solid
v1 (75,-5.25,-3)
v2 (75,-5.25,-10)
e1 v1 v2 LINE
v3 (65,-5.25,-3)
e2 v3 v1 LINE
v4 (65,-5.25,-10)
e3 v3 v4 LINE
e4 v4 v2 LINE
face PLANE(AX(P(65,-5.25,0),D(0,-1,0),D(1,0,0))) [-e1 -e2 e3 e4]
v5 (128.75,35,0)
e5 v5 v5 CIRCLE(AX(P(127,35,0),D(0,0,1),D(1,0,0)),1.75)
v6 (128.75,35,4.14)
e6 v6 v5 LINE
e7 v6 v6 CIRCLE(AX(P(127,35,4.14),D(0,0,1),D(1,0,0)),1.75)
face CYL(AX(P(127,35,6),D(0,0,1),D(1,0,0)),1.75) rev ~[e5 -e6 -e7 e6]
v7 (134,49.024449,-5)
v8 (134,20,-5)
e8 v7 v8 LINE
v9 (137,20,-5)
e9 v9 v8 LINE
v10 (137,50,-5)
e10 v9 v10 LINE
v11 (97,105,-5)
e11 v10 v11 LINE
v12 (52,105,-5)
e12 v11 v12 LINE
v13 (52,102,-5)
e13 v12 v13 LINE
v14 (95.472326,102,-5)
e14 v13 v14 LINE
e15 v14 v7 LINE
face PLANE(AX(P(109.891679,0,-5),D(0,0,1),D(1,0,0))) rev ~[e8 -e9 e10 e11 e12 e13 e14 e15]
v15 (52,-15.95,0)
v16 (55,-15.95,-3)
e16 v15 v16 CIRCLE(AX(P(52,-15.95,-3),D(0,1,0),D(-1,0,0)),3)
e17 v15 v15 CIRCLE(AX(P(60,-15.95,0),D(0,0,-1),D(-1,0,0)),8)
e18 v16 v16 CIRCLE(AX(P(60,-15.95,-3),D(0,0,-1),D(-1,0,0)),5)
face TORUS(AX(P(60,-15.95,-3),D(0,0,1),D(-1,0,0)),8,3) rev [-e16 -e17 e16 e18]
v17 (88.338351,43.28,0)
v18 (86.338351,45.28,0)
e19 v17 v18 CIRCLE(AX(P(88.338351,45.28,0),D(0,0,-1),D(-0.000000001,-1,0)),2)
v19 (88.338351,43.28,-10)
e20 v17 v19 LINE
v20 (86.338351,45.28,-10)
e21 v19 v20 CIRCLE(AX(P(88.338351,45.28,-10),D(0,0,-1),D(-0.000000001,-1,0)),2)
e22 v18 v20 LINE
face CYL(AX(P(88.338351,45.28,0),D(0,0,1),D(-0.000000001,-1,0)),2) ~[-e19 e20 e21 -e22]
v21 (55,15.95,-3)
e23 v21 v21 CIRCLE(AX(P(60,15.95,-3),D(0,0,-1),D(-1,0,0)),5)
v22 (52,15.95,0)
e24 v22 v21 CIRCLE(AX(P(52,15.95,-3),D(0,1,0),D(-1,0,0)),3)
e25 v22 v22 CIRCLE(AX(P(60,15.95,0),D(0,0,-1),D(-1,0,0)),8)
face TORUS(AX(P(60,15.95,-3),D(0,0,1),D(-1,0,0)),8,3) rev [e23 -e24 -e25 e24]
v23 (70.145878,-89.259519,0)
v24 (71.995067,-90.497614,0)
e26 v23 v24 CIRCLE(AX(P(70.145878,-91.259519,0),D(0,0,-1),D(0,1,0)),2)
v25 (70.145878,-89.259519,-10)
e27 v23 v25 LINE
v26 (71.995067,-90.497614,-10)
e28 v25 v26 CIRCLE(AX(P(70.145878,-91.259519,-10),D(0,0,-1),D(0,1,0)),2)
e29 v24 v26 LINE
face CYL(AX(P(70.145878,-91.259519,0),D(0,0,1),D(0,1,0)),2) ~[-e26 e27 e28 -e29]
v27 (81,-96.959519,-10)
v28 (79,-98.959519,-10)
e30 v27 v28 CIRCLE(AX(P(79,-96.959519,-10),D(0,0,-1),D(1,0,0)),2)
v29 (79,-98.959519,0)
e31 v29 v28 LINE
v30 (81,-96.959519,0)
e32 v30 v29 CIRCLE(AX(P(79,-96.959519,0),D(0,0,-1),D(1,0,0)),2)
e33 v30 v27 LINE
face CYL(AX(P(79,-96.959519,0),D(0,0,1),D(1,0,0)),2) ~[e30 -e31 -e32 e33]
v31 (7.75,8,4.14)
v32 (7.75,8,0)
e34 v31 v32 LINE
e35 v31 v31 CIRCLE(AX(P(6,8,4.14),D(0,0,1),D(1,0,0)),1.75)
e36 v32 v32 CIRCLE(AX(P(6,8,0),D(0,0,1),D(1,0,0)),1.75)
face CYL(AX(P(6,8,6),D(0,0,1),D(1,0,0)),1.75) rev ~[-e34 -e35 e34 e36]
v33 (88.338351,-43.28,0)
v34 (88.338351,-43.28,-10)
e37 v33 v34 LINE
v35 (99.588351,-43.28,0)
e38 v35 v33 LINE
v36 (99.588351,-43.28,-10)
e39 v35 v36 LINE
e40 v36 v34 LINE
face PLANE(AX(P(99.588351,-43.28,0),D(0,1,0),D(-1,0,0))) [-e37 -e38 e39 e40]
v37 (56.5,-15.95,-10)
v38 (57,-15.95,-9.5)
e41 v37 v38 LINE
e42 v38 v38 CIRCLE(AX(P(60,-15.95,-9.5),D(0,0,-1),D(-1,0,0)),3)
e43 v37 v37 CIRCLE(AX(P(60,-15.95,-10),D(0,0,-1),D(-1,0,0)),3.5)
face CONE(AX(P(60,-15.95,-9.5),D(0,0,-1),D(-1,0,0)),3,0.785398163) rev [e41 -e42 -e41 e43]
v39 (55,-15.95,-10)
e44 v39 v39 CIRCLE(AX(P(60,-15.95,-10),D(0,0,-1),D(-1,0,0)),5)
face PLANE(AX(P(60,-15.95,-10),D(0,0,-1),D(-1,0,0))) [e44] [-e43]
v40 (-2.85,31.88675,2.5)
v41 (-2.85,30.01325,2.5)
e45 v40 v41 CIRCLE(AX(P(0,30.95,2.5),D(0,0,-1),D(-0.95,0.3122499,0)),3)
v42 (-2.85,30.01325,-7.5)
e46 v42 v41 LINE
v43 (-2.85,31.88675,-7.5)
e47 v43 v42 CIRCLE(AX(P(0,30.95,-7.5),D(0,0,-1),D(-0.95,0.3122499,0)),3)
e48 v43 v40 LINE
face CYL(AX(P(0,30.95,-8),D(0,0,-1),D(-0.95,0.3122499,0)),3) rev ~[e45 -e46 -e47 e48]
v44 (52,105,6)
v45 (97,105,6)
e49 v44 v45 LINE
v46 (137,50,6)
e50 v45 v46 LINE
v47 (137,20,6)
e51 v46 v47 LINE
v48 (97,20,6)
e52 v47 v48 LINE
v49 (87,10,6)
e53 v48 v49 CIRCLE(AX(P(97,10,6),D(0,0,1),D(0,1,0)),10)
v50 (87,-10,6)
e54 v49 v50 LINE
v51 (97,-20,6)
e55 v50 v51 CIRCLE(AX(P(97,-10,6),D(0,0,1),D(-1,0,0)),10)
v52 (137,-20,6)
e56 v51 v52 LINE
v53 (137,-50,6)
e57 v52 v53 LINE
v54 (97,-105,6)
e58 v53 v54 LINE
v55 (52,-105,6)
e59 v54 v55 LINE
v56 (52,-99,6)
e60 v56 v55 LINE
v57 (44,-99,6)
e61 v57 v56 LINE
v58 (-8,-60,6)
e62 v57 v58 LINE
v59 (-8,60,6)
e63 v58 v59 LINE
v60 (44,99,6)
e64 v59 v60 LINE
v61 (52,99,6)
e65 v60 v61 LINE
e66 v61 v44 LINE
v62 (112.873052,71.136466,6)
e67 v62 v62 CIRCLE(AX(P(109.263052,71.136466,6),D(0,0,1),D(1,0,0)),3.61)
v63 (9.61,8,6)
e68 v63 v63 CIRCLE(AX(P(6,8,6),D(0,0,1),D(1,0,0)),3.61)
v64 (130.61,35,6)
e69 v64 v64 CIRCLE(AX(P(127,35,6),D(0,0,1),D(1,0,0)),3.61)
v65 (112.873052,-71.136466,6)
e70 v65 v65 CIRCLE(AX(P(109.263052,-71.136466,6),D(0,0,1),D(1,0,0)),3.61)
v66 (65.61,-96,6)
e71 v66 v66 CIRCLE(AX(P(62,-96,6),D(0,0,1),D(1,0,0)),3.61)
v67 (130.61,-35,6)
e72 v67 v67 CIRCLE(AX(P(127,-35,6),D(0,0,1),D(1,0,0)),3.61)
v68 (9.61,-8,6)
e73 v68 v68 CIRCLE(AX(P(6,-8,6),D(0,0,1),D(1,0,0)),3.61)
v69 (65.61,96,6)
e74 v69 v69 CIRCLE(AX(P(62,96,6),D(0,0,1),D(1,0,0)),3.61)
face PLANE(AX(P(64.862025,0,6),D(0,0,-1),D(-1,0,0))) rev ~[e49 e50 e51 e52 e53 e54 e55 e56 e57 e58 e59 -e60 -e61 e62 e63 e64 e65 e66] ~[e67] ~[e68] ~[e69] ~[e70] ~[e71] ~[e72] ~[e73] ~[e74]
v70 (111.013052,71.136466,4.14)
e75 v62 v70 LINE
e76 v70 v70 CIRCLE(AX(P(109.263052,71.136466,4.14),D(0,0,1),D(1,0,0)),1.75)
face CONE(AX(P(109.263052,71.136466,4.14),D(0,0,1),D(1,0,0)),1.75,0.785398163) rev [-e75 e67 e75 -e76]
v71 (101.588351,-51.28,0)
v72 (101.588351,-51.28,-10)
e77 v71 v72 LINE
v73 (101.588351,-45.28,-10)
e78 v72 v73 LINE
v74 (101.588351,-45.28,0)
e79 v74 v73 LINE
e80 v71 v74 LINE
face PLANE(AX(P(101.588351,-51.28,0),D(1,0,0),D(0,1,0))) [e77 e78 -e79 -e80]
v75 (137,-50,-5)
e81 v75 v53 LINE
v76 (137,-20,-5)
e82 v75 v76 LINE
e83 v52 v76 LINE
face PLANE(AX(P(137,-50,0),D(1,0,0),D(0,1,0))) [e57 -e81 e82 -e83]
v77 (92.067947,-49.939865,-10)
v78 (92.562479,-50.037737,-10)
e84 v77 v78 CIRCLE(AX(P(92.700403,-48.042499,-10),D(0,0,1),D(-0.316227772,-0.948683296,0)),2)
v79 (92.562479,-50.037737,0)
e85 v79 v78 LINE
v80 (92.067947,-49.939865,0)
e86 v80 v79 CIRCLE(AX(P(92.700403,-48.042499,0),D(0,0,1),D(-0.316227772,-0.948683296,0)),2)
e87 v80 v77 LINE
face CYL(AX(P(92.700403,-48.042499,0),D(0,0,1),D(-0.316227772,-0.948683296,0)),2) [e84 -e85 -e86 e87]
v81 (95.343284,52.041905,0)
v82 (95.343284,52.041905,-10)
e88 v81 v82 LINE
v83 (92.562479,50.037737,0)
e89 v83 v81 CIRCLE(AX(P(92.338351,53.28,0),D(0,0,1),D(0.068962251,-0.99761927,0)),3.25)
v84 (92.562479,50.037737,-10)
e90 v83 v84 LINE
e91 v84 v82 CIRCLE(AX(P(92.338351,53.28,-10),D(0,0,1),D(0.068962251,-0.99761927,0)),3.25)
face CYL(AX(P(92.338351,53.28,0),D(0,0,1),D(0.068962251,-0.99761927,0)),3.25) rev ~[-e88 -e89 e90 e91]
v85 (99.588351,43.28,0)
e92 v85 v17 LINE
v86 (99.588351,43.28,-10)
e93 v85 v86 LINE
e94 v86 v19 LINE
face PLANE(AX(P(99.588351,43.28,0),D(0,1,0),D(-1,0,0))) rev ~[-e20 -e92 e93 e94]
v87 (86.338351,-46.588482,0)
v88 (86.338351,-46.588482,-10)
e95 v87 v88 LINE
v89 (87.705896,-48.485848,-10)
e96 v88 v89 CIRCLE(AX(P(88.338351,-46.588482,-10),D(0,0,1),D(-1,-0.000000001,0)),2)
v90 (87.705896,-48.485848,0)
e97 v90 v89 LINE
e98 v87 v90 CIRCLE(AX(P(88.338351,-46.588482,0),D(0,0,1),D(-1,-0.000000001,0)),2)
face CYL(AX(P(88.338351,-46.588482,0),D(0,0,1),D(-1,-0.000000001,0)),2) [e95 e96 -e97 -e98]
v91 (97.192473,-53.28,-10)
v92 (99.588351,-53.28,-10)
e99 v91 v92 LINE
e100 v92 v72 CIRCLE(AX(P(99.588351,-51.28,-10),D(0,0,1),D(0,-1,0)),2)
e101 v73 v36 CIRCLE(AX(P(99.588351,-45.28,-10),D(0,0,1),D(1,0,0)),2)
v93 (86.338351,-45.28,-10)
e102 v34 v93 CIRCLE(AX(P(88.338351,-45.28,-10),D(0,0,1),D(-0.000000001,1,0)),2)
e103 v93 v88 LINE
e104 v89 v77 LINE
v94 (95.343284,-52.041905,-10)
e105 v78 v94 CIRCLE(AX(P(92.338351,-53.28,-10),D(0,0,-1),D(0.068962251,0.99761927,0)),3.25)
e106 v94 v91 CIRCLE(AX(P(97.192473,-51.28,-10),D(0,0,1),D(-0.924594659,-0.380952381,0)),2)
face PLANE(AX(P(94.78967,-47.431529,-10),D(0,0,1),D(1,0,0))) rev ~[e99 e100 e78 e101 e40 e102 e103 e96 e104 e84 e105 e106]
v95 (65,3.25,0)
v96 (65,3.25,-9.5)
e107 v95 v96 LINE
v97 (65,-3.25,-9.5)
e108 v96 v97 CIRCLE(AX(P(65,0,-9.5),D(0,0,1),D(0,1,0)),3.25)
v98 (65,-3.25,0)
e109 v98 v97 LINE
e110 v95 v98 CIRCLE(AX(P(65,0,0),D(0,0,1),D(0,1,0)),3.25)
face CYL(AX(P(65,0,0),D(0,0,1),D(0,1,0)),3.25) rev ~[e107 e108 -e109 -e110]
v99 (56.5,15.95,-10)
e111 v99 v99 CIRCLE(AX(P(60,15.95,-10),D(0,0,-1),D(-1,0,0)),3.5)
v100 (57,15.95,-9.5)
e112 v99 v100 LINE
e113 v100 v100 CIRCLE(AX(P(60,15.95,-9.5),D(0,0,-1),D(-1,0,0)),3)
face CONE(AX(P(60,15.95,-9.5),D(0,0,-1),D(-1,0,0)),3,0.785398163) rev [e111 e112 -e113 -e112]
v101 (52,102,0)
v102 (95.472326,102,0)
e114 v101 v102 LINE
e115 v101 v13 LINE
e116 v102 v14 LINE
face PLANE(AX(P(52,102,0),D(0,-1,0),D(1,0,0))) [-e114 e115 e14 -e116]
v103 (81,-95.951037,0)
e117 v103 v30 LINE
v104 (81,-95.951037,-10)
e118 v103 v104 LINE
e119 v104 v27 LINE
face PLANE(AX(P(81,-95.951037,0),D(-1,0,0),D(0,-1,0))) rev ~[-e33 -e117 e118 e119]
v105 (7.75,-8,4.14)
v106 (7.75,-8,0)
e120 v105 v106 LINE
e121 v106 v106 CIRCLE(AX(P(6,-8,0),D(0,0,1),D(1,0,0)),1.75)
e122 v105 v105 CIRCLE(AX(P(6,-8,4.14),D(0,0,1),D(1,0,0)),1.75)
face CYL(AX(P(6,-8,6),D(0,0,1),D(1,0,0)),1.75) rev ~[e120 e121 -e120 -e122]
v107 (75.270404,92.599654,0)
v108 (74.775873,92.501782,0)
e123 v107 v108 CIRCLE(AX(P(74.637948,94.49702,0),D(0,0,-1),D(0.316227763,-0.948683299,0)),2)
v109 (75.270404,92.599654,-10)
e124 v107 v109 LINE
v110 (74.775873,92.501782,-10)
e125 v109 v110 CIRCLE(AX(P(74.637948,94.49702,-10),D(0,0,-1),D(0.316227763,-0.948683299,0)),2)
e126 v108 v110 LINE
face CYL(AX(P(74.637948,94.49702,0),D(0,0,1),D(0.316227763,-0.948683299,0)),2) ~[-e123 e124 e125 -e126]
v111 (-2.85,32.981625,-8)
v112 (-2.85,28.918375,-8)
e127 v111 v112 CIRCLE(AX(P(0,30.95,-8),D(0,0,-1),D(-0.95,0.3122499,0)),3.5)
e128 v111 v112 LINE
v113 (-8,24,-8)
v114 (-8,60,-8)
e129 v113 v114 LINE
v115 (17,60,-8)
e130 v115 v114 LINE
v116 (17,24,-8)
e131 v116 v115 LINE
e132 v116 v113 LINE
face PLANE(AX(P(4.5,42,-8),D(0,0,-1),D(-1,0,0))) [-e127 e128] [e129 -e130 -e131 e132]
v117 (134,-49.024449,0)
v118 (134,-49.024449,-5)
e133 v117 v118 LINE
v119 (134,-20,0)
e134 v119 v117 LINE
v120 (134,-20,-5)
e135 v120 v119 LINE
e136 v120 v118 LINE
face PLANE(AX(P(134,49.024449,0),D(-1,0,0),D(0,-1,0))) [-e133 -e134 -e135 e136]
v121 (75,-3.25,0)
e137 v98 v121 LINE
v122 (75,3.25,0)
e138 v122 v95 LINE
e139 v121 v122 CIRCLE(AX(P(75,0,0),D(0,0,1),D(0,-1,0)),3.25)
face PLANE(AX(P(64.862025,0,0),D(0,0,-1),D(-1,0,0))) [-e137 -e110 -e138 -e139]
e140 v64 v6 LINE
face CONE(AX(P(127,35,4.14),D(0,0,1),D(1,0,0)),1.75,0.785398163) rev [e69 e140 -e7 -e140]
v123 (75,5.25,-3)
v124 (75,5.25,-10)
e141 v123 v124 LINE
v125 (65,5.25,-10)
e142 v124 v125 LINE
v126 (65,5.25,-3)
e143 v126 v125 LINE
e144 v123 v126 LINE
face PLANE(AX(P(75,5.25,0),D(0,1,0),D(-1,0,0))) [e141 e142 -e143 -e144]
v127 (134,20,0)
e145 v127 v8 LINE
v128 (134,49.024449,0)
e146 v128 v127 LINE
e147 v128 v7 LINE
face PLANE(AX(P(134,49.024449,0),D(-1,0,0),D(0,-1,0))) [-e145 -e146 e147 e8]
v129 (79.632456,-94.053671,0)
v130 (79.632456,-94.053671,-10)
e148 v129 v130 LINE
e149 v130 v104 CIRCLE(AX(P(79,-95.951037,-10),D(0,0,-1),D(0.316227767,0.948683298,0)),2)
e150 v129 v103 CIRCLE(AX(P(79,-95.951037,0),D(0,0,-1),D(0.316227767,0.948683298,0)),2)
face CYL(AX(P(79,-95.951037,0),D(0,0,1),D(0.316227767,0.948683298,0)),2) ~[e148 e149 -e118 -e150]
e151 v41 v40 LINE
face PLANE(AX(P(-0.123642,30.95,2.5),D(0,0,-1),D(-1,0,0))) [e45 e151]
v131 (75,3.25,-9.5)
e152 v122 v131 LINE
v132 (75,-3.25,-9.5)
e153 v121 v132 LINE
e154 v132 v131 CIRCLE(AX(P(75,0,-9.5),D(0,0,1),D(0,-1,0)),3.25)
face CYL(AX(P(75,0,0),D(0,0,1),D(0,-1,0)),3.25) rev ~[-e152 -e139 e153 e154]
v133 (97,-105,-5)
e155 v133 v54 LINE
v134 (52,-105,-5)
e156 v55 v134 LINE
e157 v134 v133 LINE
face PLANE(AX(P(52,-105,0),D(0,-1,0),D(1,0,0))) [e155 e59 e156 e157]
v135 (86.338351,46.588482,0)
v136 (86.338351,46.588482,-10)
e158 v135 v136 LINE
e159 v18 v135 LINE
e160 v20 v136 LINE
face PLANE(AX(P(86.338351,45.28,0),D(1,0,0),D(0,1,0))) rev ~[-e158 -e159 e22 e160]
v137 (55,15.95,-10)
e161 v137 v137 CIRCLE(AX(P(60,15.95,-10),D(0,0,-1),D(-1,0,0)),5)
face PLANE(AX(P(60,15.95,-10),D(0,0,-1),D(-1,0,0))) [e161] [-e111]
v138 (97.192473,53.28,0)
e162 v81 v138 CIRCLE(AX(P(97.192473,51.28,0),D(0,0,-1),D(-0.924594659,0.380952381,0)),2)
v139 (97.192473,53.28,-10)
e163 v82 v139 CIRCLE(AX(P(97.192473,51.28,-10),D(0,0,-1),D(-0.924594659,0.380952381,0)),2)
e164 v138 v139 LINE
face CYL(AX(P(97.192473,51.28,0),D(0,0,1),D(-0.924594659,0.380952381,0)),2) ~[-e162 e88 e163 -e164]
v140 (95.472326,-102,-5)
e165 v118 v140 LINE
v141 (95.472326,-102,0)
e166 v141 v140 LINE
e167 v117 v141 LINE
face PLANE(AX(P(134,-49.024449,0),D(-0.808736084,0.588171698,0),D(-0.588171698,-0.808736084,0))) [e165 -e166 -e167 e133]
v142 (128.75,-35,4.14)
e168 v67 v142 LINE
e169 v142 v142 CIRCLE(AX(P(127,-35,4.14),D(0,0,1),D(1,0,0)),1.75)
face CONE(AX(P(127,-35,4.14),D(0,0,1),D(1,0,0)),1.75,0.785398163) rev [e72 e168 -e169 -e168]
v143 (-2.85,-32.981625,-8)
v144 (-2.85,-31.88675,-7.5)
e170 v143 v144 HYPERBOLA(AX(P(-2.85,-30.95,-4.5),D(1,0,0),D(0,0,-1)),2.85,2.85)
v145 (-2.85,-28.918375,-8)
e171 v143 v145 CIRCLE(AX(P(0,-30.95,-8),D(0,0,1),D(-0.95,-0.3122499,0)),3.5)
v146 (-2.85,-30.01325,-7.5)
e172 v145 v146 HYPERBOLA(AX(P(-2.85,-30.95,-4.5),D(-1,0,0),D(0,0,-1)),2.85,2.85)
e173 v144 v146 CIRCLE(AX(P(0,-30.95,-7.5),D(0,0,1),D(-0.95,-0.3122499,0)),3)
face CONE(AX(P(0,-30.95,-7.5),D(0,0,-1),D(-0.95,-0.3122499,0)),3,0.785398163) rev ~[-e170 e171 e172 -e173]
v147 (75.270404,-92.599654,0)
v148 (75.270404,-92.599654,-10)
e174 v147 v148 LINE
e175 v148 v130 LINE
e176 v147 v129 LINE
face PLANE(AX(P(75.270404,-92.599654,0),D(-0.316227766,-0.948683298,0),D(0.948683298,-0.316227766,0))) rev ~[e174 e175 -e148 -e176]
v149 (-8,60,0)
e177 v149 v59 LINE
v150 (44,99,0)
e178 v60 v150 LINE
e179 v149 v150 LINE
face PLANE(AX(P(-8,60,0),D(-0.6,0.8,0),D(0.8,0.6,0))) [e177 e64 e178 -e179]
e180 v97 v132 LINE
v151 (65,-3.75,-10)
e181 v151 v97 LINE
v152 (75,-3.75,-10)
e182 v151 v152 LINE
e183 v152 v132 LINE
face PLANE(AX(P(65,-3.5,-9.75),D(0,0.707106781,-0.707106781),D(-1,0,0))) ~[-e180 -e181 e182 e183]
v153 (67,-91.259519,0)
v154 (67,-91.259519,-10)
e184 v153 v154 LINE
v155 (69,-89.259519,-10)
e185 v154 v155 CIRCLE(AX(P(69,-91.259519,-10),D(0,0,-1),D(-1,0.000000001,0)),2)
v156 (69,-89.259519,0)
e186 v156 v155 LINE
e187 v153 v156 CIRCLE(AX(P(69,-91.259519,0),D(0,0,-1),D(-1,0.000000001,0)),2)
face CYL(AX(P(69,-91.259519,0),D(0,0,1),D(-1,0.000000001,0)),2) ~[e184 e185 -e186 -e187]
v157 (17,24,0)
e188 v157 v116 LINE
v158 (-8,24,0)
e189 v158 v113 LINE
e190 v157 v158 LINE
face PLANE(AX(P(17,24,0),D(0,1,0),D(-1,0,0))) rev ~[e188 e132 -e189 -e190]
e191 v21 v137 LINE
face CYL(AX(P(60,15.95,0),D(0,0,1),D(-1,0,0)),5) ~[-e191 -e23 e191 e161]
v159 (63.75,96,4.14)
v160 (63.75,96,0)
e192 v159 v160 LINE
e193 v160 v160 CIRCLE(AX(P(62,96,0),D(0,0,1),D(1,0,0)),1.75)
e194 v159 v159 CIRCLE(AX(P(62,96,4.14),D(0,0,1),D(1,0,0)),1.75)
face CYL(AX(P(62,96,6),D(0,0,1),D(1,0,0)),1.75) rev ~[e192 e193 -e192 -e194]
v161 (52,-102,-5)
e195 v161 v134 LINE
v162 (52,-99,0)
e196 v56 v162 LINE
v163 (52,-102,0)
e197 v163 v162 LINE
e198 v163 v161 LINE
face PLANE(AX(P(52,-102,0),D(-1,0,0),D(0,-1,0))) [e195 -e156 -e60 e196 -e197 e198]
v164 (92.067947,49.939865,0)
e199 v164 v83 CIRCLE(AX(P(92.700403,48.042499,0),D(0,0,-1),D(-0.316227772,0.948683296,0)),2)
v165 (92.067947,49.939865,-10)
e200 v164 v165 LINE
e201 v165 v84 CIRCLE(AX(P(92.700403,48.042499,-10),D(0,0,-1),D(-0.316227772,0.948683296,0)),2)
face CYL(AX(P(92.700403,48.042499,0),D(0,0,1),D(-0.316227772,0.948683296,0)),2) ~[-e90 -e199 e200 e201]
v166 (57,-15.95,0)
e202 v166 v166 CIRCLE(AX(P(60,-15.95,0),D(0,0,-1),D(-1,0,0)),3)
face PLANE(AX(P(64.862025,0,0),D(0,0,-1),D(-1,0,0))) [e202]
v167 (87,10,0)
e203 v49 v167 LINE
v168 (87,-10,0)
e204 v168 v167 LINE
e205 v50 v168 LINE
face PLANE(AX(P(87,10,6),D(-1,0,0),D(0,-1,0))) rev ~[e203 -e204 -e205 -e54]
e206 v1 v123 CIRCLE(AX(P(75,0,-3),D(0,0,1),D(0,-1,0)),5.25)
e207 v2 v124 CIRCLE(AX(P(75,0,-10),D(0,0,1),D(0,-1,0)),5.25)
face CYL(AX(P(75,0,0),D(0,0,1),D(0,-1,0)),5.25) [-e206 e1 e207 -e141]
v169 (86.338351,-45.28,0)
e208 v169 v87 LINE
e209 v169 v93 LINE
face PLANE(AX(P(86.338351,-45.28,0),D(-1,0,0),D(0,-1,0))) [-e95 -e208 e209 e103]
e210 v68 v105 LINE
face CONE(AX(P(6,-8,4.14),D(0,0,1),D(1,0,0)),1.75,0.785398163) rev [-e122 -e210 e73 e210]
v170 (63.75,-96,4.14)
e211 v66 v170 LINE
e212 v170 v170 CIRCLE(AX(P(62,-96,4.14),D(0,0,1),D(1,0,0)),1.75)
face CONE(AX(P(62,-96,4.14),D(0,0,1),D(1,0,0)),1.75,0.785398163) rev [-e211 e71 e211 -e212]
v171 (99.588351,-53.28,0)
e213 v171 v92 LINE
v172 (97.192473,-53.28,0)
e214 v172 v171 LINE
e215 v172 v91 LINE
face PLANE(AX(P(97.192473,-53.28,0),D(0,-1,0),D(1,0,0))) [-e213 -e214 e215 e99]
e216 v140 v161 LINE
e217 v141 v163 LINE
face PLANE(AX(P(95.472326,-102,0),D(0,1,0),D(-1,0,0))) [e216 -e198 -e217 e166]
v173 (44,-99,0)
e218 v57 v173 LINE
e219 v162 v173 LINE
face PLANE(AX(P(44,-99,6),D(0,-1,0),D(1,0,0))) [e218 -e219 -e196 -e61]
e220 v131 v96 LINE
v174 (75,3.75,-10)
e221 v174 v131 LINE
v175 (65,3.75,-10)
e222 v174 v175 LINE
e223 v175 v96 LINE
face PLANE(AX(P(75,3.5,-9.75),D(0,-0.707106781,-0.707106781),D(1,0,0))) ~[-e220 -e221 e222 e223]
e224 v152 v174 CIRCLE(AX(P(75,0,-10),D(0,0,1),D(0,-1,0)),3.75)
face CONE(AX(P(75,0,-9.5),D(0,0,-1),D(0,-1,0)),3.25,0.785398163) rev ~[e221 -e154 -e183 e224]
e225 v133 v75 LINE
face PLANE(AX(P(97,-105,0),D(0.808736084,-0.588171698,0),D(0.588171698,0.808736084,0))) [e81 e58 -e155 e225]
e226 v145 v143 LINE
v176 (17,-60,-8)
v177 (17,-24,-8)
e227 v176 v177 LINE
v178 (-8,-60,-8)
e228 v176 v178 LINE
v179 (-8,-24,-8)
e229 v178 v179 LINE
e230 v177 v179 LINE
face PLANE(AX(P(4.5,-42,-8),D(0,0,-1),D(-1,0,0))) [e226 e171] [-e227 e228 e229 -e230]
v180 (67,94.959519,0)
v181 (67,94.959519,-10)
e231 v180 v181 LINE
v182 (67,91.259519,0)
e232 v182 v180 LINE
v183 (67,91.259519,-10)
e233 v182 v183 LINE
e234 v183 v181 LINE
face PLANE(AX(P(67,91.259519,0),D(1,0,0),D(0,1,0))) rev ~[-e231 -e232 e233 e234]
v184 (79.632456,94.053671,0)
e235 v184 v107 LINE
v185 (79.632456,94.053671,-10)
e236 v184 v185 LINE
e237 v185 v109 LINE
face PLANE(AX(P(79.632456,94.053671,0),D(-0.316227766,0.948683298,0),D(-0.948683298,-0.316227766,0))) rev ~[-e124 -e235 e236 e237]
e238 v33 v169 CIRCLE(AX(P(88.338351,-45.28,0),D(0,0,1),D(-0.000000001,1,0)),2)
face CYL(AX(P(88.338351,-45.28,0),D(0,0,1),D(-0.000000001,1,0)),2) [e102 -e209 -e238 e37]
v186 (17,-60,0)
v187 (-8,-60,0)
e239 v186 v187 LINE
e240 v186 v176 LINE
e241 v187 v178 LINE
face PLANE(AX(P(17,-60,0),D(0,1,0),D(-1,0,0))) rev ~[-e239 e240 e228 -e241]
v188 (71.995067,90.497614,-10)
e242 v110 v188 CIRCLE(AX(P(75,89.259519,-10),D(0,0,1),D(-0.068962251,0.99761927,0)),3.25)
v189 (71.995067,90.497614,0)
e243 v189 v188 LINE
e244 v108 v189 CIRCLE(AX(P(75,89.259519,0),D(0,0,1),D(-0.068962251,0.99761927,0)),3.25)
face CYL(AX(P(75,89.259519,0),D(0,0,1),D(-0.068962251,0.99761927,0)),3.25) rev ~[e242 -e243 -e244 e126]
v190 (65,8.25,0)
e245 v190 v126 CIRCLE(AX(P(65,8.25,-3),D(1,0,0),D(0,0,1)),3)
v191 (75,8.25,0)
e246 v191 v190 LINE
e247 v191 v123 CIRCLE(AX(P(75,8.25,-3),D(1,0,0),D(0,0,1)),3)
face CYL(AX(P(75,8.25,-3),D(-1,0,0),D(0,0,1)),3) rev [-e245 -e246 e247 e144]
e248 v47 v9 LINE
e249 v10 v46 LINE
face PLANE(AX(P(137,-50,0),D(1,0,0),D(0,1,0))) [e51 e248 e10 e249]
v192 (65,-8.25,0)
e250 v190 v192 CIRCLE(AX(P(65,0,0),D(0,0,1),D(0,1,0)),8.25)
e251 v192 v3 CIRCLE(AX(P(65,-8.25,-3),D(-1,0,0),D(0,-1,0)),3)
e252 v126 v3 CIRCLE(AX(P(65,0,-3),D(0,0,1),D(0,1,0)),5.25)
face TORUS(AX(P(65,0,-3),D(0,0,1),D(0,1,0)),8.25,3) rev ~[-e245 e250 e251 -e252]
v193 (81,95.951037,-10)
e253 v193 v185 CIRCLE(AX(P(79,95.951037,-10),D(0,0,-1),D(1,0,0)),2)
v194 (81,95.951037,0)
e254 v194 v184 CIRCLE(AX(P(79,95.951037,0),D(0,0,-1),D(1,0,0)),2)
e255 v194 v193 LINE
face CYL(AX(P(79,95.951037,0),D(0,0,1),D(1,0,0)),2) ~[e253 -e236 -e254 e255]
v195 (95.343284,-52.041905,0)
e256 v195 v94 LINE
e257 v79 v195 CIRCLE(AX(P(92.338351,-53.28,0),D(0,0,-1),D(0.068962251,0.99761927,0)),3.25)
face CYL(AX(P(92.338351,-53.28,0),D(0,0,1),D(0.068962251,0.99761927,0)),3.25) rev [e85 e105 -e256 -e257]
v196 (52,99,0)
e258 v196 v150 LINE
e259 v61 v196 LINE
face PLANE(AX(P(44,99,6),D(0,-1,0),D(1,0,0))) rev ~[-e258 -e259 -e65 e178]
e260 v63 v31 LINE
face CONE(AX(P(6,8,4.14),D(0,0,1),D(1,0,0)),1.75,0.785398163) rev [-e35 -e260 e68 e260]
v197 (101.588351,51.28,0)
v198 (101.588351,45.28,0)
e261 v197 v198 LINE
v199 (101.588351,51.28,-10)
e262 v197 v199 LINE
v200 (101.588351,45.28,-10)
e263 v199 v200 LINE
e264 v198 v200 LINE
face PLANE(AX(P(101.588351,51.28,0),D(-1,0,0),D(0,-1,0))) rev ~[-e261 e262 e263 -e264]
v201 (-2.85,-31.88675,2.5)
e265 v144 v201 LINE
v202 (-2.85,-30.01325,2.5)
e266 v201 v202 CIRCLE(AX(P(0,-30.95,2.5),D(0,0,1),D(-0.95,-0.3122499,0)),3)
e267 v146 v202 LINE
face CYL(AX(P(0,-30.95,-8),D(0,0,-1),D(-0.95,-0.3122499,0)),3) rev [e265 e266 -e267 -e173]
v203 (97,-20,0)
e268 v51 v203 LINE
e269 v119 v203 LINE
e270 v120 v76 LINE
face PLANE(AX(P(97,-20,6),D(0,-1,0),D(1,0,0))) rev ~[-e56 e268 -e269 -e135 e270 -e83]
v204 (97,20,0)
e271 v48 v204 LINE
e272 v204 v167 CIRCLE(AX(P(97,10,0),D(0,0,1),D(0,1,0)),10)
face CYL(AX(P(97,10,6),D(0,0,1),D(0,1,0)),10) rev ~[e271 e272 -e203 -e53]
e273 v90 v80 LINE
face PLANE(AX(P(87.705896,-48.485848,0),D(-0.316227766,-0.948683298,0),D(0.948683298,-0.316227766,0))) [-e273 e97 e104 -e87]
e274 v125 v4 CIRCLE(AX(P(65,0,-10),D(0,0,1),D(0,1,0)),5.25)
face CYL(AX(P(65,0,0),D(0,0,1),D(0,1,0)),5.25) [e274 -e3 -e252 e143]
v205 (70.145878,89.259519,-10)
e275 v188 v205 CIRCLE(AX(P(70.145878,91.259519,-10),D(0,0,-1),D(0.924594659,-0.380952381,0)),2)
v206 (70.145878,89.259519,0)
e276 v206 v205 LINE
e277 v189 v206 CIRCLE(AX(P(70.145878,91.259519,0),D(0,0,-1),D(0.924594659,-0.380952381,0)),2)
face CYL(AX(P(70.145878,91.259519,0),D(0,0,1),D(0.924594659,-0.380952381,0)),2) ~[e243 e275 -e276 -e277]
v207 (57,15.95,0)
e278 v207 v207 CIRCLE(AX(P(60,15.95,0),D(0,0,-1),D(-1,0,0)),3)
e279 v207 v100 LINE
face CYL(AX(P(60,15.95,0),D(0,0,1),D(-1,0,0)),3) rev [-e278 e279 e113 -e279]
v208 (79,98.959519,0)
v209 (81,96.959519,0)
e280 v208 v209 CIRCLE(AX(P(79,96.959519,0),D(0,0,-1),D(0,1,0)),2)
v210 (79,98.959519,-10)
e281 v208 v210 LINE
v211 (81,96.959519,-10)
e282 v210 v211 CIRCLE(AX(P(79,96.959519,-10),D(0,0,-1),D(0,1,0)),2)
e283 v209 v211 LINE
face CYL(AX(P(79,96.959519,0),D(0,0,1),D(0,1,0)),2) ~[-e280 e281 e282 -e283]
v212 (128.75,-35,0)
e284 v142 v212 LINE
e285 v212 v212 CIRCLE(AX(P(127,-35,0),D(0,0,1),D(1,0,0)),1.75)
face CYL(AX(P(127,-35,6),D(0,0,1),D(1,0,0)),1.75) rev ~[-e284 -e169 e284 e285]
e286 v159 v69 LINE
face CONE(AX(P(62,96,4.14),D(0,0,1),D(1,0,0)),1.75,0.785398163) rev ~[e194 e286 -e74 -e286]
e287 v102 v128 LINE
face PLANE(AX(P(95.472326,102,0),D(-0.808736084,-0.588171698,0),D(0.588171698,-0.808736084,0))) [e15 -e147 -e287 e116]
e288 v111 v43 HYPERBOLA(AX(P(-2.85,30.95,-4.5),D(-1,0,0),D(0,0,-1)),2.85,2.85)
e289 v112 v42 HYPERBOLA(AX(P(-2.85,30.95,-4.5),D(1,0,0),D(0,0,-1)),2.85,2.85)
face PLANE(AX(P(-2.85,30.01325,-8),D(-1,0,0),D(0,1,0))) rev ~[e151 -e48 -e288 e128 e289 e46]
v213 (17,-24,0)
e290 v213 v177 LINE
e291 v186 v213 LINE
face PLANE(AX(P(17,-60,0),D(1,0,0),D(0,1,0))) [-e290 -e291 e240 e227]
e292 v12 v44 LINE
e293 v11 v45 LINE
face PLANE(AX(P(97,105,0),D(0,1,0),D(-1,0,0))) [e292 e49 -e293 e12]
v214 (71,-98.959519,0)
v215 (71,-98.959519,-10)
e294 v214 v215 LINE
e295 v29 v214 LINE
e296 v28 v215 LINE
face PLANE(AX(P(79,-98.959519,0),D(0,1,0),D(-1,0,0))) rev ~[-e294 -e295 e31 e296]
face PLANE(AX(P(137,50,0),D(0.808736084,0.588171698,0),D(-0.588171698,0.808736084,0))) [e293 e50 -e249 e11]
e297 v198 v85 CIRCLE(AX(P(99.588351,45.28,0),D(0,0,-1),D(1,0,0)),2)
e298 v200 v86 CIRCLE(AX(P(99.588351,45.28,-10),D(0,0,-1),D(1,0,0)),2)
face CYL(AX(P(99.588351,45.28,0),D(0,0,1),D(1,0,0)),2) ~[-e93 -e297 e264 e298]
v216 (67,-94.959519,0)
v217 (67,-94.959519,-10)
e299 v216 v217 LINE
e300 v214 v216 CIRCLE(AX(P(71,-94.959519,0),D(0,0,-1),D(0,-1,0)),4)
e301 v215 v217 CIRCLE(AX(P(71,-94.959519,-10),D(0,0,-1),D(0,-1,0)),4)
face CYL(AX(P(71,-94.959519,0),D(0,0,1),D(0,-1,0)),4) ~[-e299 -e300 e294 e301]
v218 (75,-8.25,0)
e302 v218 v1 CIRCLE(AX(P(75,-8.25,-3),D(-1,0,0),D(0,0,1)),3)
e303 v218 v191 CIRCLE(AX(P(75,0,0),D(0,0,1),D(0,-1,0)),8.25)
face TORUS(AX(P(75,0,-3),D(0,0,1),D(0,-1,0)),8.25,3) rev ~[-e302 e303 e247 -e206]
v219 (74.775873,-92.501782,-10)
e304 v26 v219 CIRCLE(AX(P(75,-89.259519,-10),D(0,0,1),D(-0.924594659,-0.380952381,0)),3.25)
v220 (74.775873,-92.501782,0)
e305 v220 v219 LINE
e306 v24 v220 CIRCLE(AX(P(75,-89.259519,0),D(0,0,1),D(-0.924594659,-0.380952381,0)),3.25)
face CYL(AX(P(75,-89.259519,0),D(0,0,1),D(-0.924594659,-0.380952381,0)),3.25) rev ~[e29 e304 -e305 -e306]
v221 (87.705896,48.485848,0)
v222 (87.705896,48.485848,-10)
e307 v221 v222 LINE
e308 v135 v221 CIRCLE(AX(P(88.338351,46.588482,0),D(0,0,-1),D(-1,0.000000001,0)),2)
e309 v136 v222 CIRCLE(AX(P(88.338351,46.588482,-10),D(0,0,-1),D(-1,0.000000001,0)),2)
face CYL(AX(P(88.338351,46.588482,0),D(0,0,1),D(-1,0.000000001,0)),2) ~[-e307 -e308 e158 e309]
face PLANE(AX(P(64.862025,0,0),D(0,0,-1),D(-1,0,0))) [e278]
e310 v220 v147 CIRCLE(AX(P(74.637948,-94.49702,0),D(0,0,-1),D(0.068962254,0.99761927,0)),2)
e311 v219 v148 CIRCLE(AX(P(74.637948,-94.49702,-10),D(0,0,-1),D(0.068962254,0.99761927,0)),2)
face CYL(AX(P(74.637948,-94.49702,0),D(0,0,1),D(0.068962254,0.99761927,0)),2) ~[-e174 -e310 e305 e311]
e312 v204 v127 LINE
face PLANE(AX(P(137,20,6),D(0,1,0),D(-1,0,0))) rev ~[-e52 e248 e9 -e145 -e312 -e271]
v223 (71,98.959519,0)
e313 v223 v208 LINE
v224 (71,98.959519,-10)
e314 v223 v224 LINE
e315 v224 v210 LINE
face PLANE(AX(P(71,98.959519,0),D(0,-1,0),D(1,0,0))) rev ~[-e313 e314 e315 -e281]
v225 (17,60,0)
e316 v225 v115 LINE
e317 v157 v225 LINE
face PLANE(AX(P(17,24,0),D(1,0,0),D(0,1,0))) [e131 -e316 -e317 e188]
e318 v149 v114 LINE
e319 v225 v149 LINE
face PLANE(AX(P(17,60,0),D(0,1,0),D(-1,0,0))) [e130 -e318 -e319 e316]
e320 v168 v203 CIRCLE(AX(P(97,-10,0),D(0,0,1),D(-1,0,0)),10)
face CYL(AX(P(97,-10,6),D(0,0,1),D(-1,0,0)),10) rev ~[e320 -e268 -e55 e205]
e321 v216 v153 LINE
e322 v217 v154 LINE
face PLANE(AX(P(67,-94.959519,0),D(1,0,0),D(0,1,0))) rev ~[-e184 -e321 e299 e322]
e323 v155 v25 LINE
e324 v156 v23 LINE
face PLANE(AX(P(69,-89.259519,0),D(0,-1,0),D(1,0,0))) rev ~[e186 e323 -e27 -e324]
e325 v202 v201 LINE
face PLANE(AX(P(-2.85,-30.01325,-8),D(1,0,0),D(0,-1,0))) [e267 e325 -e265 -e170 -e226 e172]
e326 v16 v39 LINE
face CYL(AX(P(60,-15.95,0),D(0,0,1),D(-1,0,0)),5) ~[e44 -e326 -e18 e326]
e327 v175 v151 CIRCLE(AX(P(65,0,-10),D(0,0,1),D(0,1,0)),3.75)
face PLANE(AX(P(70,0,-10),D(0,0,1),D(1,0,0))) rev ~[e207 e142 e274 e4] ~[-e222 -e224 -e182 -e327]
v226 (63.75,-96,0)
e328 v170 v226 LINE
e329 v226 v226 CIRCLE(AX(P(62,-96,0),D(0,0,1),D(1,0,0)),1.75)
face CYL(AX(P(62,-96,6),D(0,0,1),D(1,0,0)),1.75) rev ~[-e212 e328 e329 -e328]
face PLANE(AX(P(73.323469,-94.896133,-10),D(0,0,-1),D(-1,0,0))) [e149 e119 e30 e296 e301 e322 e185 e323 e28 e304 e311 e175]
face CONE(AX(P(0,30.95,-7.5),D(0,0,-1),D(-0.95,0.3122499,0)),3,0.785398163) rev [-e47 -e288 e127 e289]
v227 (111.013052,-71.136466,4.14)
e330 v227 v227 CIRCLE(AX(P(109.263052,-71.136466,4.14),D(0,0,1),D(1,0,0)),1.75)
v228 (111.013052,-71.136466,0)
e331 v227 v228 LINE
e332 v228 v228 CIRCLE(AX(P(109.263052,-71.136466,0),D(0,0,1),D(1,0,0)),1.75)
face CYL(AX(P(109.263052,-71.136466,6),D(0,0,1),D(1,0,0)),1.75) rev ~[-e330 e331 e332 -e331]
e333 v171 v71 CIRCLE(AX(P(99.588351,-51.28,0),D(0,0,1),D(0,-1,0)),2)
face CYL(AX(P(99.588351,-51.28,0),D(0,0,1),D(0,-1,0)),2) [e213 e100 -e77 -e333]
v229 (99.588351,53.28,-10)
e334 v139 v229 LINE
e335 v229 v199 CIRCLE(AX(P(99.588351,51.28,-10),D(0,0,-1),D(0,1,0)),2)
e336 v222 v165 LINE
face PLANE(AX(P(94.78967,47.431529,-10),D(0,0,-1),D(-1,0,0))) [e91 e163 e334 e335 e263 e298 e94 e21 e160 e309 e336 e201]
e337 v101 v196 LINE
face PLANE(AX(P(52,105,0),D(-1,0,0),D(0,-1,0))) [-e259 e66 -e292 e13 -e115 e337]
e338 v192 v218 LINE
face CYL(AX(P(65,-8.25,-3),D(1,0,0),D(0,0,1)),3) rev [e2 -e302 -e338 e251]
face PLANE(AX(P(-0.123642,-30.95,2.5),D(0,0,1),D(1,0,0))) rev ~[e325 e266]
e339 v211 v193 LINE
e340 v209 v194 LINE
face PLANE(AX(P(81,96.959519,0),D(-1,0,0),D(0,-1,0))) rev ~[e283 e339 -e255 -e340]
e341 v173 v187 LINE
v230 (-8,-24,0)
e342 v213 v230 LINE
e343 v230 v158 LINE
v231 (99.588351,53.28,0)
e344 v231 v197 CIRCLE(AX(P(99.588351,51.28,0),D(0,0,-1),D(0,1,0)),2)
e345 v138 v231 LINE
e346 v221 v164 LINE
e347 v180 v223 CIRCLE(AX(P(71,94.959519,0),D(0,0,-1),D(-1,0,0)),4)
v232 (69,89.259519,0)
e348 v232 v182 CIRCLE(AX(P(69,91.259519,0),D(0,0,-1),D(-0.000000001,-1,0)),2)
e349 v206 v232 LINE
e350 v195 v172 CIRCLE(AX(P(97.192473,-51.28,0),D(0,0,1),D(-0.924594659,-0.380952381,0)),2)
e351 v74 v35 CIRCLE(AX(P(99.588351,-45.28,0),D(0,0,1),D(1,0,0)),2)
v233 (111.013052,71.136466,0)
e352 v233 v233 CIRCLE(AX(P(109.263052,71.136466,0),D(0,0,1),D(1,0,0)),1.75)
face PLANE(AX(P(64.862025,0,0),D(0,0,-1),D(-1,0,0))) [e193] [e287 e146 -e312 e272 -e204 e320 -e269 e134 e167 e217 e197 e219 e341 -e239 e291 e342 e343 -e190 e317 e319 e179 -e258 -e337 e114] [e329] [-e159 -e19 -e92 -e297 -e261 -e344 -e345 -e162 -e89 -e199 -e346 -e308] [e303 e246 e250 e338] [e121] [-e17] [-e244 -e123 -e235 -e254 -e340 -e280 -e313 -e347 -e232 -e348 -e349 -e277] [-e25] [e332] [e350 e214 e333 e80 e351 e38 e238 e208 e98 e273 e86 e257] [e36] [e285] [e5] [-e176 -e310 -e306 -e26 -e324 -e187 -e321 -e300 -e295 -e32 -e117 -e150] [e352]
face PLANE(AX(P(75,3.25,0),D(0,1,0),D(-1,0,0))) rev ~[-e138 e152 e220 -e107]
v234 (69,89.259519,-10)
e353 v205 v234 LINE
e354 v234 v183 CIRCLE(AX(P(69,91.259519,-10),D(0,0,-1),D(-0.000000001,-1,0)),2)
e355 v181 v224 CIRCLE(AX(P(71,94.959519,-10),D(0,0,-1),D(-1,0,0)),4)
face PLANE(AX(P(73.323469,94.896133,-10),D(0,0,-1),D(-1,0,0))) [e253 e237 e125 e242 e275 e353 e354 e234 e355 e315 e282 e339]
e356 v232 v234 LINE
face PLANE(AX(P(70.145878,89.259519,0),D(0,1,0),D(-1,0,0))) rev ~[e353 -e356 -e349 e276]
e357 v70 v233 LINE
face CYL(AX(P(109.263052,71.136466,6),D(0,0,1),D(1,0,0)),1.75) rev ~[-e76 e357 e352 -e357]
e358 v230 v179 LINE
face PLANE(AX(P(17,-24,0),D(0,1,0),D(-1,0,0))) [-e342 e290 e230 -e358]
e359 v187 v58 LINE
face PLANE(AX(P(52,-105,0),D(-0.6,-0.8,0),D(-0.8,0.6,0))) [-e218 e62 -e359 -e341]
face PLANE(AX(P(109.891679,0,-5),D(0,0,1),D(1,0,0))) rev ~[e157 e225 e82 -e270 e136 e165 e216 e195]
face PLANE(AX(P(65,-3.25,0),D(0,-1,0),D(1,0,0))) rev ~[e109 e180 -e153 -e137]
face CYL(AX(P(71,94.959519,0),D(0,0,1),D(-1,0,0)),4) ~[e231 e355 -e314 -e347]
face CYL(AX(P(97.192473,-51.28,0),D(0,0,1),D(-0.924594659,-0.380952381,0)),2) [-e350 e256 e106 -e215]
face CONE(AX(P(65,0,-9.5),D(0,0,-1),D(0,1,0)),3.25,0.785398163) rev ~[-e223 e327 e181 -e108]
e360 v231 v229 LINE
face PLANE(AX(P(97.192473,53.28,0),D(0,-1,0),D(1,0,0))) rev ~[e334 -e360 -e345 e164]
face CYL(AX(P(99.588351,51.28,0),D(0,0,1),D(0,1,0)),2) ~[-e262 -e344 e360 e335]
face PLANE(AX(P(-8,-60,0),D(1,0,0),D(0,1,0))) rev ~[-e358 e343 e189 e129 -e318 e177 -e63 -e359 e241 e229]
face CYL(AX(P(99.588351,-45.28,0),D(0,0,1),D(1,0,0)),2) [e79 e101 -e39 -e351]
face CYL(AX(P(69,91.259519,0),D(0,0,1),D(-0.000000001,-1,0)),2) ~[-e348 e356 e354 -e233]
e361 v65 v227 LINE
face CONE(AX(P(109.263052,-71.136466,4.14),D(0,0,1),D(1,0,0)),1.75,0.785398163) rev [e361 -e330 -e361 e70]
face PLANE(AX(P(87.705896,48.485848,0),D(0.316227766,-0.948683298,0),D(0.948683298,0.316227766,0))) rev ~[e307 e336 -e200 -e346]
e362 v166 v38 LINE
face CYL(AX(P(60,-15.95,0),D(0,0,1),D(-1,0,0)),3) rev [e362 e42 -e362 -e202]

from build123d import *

# Parameters (mm, degrees)
ESTRUSIONE_ESTRUSIONE2_DEPTH = 6
SCHIZZO2_W                   = 25
SCHIZZO2_H                   = 36
ESTRUSIONE_ESTRUSIONE3_DEPTH = 8
TAGLIO_ESTRUSIONE1_DEPTH     = 15
TAGLIO_ESTRUSIONE2_DEPTH     = 10.5
ESTRUSIONE_ESTRUSIONE5_DEPTH = 10
ESTRUSIONE_ESTRUSIONE6_DEPTH = 5
SCHIZZO8_R                   = 1.75
TAGLIO_ESTRUSIONE3_DEPTH     = 17
SCHIZZO9_R                   = 5
SCHIZZO9_R_2                 = 3
ESTRUSIONE_ESTRUSIONE7_DEPTH = 10
RACCORDO1_R                  = 3
SMUSSO1_SIZE                 = 0.5
SMUSSO2_SIZE                 = 1.86


with BuildPart() as part:
    # Schizzo1 → Estrusione-Estrusione2 (new body)
    with BuildSketch(Plane.XY):
        Polygon((-8, -60), (-8, 60), (52, 105), (97, 105), (137, 50), (137, -50), (97, -105), (52, -105), align=None)
    extrude(amount=ESTRUSIONE_ESTRUSIONE2_DEPTH)

    # Schizzo2 → Estrusione-Estrusione3 (add)
    with BuildSketch(Plane(origin=(0, 0, 0), x_dir=(-1, 0, 0), z_dir=(0, 0, -1))):
        with Locations((-4.5, -42)):
            Rectangle(SCHIZZO2_W, SCHIZZO2_H)
        with Locations((-4.5, 42)):
            Rectangle(SCHIZZO2_W, SCHIZZO2_H)
    extrude(amount=ESTRUSIONE_ESTRUSIONE3_DEPTH)

    # Schizzo3 → Taglio-Estrusione1 (cut, through all)
    with BuildSketch(Plane(origin=(0, 0, 6), x_dir=(-1, 0, 0), z_dir=(0, 0, -1))):
        Polygon((-52, 105), (-44, 99), (-52, 99), align=None)
        Polygon((-52, -105), (-44, -99), (-52, -99), align=None)
    extrude(amount=TAGLIO_ESTRUSIONE1_DEPTH, mode=Mode.SUBTRACT)

    # Schizzo4 → Taglio-Estrusione2 (cut)
    with BuildSketch(Plane(origin=(0, 0, -8), x_dir=(-1, 0, 0), z_dir=(0, 0, -1))):
        with BuildLine():
            Line((2.85, 30.0132503), (2.85, 31.8867497))
            ThreePointArc((2.85, 31.8867497), (-3, 30.95), (2.85, 30.0132503))
        make_face()
        with BuildLine():
            Line((2.85, -30.0132503), (2.85, -31.8867497))
            ThreePointArc((2.85, -31.8867497), (-3, -30.95), (2.85, -30.0132503))
        make_face()
    extrude(amount=-TAGLIO_ESTRUSIONE2_DEPTH, mode=Mode.SUBTRACT)

    # Schizzo6 → Estrusione-Estrusione5 (add)
    with BuildSketch(Plane(origin=(0, 0, 0), x_dir=(-1, 0, 0), z_dir=(0, 0, -1))):
        with BuildLine():
            Line((-65, -5.25), (-75, -5.25))
            ThreePointArc((-75, -5.25), (-80.25, 0), (-75, 5.25))
            Line((-75, 5.25), (-65, 5.25))
            ThreePointArc((-65, 5.25), (-59.75, 0), (-65, -5.25))
        make_face()
        with BuildLine():
            Line((-65, -3.25), (-75, -3.25))
            ThreePointArc((-75, -3.25), (-78.25, 0), (-75, 3.25))
            Line((-75, 3.25), (-65, 3.25))
            ThreePointArc((-65, 3.25), (-61.75, 0), (-65, -3.25))
        make_face(mode=Mode.SUBTRACT)
        with BuildLine():
            Line((-97.192473147, 53.28), (-99.588351187, 53.28))
            ThreePointArc((-99.588351187, 53.28), (-101.00256475, 52.694213562), (-101.588351187, 51.28))
            Line((-101.588351187, 51.28), (-101.588351187, 45.28))
            ThreePointArc((-101.588351187, 45.28), (-101.00256475, 43.865786438), (-99.588351187, 43.28))
            Line((-99.588351187, 43.28), (-88.338351187, 43.28))
            ThreePointArc((-88.338351187, 43.28), (-86.924137625, 43.865786438), (-86.338351187, 45.28))
            Line((-86.338351187, 45.28), (-86.338351187, 46.58848156))
            ThreePointArc((-86.338351187, 46.58848156), (-86.715866817, 47.757902129), (-87.705895655, 48.485848156))
            Line((-87.705895655, 48.485848156), (-92.067947473, 49.939865428))
            ThreePointArc((-92.067947473, 49.939865428), (-92.312116926, 50.004445295), (-92.562478503, 50.037737372))
            ThreePointArc((-92.562478503, 50.037737372), (-94.238582432, 50.643407271), (-95.343283829, 52.041904762))
            ThreePointArc((-95.343283829, 52.041904762), (-96.079775867, 52.94189794), (-97.192473147, 53.28))
        make_face()
        with BuildLine():
            Line((-97.192473147, -53.28), (-99.588351187, -53.28))
            ThreePointArc((-99.588351187, -53.28), (-101.00256475, -52.694213562), (-101.588351187, -51.28))
            Line((-101.588351187, -51.28), (-101.588351187, -45.28))
            ThreePointArc((-101.588351187, -45.28), (-101.00256475, -43.865786438), (-99.588351187, -43.28))
            Line((-99.588351187, -43.28), (-88.338351187, -43.28))
            ThreePointArc((-88.338351187, -43.28), (-86.924137625, -43.865786438), (-86.338351187, -45.28))
            Line((-86.338351187, -45.28), (-86.338351187, -46.58848156))
            ThreePointArc((-86.338351187, -46.58848156), (-86.715866817, -47.757902129), (-87.705895655, -48.485848156))
            Line((-87.705895655, -48.485848156), (-92.067947473, -49.939865428))
            ThreePointArc((-92.067947473, -49.939865428), (-92.312116926, -50.004445295), (-92.562478503, -50.037737372))
            ThreePointArc((-92.562478503, -50.037737372), (-94.238582432, -50.643407271), (-95.343283829, -52.041904762))
            ThreePointArc((-95.343283829, -52.041904762), (-96.079775867, -52.94189794), (-97.192473147, -53.28))
        make_face()
        with BuildLine():
            Line((-75.270403715, -92.59965352), (-79.632455532, -94.053670792))
            ThreePointArc((-79.632455532, -94.053670792), (-80.62248437, -94.781616819), (-81, -95.951037389))
            Line((-81, -95.951037389), (-81, -96.959518948))
            ThreePointArc((-81, -96.959518948), (-80.414213562, -98.373732511), (-79, -98.959518948))
            Line((-79, -98.959518948), (-71, -98.959518948))
            ThreePointArc((-71, -98.959518948), (-68.171572875, -97.787946073), (-67, -94.959518948))
            Line((-67, -94.959518948), (-67, -91.259518948))
            ThreePointArc((-67, -91.259518948), (-67.585786438, -89.845305386), (-69, -89.259518948))
            Line((-69, -89.259518948), (-70.14587804, -89.259518948))
            ThreePointArc((-70.14587804, -89.259518948), (-71.258575321, -89.597621009), (-71.995067358, -90.497614187))
            ThreePointArc((-71.995067358, -90.497614187), (-73.099768755, -91.896111677), (-74.775872685, -92.501781576))
            ThreePointArc((-74.775872685, -92.501781576), (-75.026234261, -92.535073654), (-75.270403715, -92.59965352))
        make_face()
        with BuildLine():
            Line((-70.14587804, 89.259518948), (-69, 89.259518948))
            ThreePointArc((-69, 89.259518948), (-67.585786438, 89.845305386), (-67, 91.259518948))
            Line((-67, 91.259518948), (-67, 94.959518948))
            ThreePointArc((-67, 94.959518948), (-68.171572875, 97.787946073), (-71, 98.959518948))
            Line((-71, 98.959518948), (-79, 98.959518948))
            ThreePointArc((-79, 98.959518948), (-80.414213562, 98.373732511), (-81, 96.959518948))
            Line((-81, 96.959518948), (-81, 95.951037389))
            ThreePointArc((-81, 95.951037389), (-80.62248437, 94.781616819), (-79.632455532, 94.053670792))
            Line((-79.632455532, 94.053670792), (-75.270403715, 92.59965352))
            ThreePointArc((-75.270403715, 92.59965352), (-75.026234261, 92.535073654), (-74.775872685, 92.501781576))
            ThreePointArc((-74.775872685, 92.501781576), (-73.099768755, 91.896111677), (-71.995067358, 90.497614187))
            ThreePointArc((-71.995067358, 90.497614187), (-71.258575321, 89.597621009), (-70.14587804, 89.259518948))
        make_face()
    extrude(amount=ESTRUSIONE_ESTRUSIONE5_DEPTH)

    # Schizzo7 → Estrusione-Estrusione6 (add)
    with BuildSketch(Plane(origin=(0, 0, 0), x_dir=(-1, 0, 0), z_dir=(0, 0, -1))):
        Polygon((-52, -105), (-97, -105), (-137, -50), (-137, 50), (-97, 105), (-52, 105), (-52, 102), (-95.472326225, 102), (-134, 49.024448559), (-134, -49.024448559), (-95.472326225, -102), (-52, -102), align=None)
    extrude(amount=ESTRUSIONE_ESTRUSIONE6_DEPTH)

    # Schizzo8 → Taglio-Estrusione3 (cut, through all)
    with BuildSketch(Plane.XY.offset(6)):
        with Locations((62, 96)):
            Circle(SCHIZZO8_R)
        with Locations((109.263051754, 71.136465702)):
            Circle(SCHIZZO8_R)
        with Locations((127, 35)):
            Circle(SCHIZZO8_R)
        with Locations((127, -35)):
            Circle(SCHIZZO8_R)
        with Locations((109.263051754, -71.136465702)):
            Circle(SCHIZZO8_R)
        with Locations((62, -96)):
            Circle(SCHIZZO8_R)
        with Locations((6, -8)):
            Circle(SCHIZZO8_R)
        with Locations((6, 8)):
            Circle(SCHIZZO8_R)
        with BuildLine():
            Line((137, 20), (97, 20))
            ThreePointArc((97, 20), (89.928932188, 17.071067812), (87, 10))
            Line((87, 10), (87, -10))
            ThreePointArc((87, -10), (89.928932188, -17.071067812), (97, -20))
            Line((97, -20), (137, -20))
            Line((137, -20), (137, 20))
        make_face()
    extrude(amount=-TAGLIO_ESTRUSIONE3_DEPTH, mode=Mode.SUBTRACT)

    # Schizzo9 → Estrusione-Estrusione7 (add)
    with BuildSketch(Plane(origin=(0, 0, 0), x_dir=(-1, 0, 0), z_dir=(0, 0, -1))):
        with Locations((-60, 15.95)):
            Circle(SCHIZZO9_R)
        with Locations((-60, 15.95)):
            Circle(SCHIZZO9_R_2, mode=Mode.SUBTRACT)
        with Locations((-60, -15.95)):
            Circle(SCHIZZO9_R)
        with Locations((-60, -15.95)):
            Circle(SCHIZZO9_R_2, mode=Mode.SUBTRACT)
    extrude(amount=ESTRUSIONE_ESTRUSIONE7_DEPTH)

    # Raccordo1
    raccordo1_edges = [part.edges().sort_by_distance(p)[0] for p in [
        (70, 5.25, 0),
        (80.25, 0, 0),
        (70, -5.25, 0),
        (65, 15.95, 0),
        (65, -15.95, 0),
        (59.75, 0, 0),
    ]]
    fillet(raccordo1_edges, radius=RACCORDO1_R)

    # Smusso1
    smusso1_edges = [part.edges().sort_by_distance(p)[0] for p in [
        (61.75, 0, -10),
        (70, 3.25, -10),
        (78.25, 0, -10),
        (70, -3.25, -10),
        (63, 15.95, -10),
        (63, -15.95, -10),
        (3, -30.95, -8),
        (3, 30.95, -8),
    ]]
    chamfer(smusso1_edges, length=SMUSSO1_SIZE)

    # Smusso2
    smusso2_edges = [part.edges().sort_by_distance(p)[0] for p in [
        (60.25, 96, 6),
        (107.513051754, 71.136465702, 6),
        (125.25, 35, 6),
        (125.25, -35, 6),
        (107.513051754, -71.136465702, 6),
        (60.25, -96, 6),
        (4.25, 8, 6),
        (4.25, -8, 6),
    ]]
    chamfer(smusso2_edges, length=SMUSSO2_SIZE)


solid = part.part
